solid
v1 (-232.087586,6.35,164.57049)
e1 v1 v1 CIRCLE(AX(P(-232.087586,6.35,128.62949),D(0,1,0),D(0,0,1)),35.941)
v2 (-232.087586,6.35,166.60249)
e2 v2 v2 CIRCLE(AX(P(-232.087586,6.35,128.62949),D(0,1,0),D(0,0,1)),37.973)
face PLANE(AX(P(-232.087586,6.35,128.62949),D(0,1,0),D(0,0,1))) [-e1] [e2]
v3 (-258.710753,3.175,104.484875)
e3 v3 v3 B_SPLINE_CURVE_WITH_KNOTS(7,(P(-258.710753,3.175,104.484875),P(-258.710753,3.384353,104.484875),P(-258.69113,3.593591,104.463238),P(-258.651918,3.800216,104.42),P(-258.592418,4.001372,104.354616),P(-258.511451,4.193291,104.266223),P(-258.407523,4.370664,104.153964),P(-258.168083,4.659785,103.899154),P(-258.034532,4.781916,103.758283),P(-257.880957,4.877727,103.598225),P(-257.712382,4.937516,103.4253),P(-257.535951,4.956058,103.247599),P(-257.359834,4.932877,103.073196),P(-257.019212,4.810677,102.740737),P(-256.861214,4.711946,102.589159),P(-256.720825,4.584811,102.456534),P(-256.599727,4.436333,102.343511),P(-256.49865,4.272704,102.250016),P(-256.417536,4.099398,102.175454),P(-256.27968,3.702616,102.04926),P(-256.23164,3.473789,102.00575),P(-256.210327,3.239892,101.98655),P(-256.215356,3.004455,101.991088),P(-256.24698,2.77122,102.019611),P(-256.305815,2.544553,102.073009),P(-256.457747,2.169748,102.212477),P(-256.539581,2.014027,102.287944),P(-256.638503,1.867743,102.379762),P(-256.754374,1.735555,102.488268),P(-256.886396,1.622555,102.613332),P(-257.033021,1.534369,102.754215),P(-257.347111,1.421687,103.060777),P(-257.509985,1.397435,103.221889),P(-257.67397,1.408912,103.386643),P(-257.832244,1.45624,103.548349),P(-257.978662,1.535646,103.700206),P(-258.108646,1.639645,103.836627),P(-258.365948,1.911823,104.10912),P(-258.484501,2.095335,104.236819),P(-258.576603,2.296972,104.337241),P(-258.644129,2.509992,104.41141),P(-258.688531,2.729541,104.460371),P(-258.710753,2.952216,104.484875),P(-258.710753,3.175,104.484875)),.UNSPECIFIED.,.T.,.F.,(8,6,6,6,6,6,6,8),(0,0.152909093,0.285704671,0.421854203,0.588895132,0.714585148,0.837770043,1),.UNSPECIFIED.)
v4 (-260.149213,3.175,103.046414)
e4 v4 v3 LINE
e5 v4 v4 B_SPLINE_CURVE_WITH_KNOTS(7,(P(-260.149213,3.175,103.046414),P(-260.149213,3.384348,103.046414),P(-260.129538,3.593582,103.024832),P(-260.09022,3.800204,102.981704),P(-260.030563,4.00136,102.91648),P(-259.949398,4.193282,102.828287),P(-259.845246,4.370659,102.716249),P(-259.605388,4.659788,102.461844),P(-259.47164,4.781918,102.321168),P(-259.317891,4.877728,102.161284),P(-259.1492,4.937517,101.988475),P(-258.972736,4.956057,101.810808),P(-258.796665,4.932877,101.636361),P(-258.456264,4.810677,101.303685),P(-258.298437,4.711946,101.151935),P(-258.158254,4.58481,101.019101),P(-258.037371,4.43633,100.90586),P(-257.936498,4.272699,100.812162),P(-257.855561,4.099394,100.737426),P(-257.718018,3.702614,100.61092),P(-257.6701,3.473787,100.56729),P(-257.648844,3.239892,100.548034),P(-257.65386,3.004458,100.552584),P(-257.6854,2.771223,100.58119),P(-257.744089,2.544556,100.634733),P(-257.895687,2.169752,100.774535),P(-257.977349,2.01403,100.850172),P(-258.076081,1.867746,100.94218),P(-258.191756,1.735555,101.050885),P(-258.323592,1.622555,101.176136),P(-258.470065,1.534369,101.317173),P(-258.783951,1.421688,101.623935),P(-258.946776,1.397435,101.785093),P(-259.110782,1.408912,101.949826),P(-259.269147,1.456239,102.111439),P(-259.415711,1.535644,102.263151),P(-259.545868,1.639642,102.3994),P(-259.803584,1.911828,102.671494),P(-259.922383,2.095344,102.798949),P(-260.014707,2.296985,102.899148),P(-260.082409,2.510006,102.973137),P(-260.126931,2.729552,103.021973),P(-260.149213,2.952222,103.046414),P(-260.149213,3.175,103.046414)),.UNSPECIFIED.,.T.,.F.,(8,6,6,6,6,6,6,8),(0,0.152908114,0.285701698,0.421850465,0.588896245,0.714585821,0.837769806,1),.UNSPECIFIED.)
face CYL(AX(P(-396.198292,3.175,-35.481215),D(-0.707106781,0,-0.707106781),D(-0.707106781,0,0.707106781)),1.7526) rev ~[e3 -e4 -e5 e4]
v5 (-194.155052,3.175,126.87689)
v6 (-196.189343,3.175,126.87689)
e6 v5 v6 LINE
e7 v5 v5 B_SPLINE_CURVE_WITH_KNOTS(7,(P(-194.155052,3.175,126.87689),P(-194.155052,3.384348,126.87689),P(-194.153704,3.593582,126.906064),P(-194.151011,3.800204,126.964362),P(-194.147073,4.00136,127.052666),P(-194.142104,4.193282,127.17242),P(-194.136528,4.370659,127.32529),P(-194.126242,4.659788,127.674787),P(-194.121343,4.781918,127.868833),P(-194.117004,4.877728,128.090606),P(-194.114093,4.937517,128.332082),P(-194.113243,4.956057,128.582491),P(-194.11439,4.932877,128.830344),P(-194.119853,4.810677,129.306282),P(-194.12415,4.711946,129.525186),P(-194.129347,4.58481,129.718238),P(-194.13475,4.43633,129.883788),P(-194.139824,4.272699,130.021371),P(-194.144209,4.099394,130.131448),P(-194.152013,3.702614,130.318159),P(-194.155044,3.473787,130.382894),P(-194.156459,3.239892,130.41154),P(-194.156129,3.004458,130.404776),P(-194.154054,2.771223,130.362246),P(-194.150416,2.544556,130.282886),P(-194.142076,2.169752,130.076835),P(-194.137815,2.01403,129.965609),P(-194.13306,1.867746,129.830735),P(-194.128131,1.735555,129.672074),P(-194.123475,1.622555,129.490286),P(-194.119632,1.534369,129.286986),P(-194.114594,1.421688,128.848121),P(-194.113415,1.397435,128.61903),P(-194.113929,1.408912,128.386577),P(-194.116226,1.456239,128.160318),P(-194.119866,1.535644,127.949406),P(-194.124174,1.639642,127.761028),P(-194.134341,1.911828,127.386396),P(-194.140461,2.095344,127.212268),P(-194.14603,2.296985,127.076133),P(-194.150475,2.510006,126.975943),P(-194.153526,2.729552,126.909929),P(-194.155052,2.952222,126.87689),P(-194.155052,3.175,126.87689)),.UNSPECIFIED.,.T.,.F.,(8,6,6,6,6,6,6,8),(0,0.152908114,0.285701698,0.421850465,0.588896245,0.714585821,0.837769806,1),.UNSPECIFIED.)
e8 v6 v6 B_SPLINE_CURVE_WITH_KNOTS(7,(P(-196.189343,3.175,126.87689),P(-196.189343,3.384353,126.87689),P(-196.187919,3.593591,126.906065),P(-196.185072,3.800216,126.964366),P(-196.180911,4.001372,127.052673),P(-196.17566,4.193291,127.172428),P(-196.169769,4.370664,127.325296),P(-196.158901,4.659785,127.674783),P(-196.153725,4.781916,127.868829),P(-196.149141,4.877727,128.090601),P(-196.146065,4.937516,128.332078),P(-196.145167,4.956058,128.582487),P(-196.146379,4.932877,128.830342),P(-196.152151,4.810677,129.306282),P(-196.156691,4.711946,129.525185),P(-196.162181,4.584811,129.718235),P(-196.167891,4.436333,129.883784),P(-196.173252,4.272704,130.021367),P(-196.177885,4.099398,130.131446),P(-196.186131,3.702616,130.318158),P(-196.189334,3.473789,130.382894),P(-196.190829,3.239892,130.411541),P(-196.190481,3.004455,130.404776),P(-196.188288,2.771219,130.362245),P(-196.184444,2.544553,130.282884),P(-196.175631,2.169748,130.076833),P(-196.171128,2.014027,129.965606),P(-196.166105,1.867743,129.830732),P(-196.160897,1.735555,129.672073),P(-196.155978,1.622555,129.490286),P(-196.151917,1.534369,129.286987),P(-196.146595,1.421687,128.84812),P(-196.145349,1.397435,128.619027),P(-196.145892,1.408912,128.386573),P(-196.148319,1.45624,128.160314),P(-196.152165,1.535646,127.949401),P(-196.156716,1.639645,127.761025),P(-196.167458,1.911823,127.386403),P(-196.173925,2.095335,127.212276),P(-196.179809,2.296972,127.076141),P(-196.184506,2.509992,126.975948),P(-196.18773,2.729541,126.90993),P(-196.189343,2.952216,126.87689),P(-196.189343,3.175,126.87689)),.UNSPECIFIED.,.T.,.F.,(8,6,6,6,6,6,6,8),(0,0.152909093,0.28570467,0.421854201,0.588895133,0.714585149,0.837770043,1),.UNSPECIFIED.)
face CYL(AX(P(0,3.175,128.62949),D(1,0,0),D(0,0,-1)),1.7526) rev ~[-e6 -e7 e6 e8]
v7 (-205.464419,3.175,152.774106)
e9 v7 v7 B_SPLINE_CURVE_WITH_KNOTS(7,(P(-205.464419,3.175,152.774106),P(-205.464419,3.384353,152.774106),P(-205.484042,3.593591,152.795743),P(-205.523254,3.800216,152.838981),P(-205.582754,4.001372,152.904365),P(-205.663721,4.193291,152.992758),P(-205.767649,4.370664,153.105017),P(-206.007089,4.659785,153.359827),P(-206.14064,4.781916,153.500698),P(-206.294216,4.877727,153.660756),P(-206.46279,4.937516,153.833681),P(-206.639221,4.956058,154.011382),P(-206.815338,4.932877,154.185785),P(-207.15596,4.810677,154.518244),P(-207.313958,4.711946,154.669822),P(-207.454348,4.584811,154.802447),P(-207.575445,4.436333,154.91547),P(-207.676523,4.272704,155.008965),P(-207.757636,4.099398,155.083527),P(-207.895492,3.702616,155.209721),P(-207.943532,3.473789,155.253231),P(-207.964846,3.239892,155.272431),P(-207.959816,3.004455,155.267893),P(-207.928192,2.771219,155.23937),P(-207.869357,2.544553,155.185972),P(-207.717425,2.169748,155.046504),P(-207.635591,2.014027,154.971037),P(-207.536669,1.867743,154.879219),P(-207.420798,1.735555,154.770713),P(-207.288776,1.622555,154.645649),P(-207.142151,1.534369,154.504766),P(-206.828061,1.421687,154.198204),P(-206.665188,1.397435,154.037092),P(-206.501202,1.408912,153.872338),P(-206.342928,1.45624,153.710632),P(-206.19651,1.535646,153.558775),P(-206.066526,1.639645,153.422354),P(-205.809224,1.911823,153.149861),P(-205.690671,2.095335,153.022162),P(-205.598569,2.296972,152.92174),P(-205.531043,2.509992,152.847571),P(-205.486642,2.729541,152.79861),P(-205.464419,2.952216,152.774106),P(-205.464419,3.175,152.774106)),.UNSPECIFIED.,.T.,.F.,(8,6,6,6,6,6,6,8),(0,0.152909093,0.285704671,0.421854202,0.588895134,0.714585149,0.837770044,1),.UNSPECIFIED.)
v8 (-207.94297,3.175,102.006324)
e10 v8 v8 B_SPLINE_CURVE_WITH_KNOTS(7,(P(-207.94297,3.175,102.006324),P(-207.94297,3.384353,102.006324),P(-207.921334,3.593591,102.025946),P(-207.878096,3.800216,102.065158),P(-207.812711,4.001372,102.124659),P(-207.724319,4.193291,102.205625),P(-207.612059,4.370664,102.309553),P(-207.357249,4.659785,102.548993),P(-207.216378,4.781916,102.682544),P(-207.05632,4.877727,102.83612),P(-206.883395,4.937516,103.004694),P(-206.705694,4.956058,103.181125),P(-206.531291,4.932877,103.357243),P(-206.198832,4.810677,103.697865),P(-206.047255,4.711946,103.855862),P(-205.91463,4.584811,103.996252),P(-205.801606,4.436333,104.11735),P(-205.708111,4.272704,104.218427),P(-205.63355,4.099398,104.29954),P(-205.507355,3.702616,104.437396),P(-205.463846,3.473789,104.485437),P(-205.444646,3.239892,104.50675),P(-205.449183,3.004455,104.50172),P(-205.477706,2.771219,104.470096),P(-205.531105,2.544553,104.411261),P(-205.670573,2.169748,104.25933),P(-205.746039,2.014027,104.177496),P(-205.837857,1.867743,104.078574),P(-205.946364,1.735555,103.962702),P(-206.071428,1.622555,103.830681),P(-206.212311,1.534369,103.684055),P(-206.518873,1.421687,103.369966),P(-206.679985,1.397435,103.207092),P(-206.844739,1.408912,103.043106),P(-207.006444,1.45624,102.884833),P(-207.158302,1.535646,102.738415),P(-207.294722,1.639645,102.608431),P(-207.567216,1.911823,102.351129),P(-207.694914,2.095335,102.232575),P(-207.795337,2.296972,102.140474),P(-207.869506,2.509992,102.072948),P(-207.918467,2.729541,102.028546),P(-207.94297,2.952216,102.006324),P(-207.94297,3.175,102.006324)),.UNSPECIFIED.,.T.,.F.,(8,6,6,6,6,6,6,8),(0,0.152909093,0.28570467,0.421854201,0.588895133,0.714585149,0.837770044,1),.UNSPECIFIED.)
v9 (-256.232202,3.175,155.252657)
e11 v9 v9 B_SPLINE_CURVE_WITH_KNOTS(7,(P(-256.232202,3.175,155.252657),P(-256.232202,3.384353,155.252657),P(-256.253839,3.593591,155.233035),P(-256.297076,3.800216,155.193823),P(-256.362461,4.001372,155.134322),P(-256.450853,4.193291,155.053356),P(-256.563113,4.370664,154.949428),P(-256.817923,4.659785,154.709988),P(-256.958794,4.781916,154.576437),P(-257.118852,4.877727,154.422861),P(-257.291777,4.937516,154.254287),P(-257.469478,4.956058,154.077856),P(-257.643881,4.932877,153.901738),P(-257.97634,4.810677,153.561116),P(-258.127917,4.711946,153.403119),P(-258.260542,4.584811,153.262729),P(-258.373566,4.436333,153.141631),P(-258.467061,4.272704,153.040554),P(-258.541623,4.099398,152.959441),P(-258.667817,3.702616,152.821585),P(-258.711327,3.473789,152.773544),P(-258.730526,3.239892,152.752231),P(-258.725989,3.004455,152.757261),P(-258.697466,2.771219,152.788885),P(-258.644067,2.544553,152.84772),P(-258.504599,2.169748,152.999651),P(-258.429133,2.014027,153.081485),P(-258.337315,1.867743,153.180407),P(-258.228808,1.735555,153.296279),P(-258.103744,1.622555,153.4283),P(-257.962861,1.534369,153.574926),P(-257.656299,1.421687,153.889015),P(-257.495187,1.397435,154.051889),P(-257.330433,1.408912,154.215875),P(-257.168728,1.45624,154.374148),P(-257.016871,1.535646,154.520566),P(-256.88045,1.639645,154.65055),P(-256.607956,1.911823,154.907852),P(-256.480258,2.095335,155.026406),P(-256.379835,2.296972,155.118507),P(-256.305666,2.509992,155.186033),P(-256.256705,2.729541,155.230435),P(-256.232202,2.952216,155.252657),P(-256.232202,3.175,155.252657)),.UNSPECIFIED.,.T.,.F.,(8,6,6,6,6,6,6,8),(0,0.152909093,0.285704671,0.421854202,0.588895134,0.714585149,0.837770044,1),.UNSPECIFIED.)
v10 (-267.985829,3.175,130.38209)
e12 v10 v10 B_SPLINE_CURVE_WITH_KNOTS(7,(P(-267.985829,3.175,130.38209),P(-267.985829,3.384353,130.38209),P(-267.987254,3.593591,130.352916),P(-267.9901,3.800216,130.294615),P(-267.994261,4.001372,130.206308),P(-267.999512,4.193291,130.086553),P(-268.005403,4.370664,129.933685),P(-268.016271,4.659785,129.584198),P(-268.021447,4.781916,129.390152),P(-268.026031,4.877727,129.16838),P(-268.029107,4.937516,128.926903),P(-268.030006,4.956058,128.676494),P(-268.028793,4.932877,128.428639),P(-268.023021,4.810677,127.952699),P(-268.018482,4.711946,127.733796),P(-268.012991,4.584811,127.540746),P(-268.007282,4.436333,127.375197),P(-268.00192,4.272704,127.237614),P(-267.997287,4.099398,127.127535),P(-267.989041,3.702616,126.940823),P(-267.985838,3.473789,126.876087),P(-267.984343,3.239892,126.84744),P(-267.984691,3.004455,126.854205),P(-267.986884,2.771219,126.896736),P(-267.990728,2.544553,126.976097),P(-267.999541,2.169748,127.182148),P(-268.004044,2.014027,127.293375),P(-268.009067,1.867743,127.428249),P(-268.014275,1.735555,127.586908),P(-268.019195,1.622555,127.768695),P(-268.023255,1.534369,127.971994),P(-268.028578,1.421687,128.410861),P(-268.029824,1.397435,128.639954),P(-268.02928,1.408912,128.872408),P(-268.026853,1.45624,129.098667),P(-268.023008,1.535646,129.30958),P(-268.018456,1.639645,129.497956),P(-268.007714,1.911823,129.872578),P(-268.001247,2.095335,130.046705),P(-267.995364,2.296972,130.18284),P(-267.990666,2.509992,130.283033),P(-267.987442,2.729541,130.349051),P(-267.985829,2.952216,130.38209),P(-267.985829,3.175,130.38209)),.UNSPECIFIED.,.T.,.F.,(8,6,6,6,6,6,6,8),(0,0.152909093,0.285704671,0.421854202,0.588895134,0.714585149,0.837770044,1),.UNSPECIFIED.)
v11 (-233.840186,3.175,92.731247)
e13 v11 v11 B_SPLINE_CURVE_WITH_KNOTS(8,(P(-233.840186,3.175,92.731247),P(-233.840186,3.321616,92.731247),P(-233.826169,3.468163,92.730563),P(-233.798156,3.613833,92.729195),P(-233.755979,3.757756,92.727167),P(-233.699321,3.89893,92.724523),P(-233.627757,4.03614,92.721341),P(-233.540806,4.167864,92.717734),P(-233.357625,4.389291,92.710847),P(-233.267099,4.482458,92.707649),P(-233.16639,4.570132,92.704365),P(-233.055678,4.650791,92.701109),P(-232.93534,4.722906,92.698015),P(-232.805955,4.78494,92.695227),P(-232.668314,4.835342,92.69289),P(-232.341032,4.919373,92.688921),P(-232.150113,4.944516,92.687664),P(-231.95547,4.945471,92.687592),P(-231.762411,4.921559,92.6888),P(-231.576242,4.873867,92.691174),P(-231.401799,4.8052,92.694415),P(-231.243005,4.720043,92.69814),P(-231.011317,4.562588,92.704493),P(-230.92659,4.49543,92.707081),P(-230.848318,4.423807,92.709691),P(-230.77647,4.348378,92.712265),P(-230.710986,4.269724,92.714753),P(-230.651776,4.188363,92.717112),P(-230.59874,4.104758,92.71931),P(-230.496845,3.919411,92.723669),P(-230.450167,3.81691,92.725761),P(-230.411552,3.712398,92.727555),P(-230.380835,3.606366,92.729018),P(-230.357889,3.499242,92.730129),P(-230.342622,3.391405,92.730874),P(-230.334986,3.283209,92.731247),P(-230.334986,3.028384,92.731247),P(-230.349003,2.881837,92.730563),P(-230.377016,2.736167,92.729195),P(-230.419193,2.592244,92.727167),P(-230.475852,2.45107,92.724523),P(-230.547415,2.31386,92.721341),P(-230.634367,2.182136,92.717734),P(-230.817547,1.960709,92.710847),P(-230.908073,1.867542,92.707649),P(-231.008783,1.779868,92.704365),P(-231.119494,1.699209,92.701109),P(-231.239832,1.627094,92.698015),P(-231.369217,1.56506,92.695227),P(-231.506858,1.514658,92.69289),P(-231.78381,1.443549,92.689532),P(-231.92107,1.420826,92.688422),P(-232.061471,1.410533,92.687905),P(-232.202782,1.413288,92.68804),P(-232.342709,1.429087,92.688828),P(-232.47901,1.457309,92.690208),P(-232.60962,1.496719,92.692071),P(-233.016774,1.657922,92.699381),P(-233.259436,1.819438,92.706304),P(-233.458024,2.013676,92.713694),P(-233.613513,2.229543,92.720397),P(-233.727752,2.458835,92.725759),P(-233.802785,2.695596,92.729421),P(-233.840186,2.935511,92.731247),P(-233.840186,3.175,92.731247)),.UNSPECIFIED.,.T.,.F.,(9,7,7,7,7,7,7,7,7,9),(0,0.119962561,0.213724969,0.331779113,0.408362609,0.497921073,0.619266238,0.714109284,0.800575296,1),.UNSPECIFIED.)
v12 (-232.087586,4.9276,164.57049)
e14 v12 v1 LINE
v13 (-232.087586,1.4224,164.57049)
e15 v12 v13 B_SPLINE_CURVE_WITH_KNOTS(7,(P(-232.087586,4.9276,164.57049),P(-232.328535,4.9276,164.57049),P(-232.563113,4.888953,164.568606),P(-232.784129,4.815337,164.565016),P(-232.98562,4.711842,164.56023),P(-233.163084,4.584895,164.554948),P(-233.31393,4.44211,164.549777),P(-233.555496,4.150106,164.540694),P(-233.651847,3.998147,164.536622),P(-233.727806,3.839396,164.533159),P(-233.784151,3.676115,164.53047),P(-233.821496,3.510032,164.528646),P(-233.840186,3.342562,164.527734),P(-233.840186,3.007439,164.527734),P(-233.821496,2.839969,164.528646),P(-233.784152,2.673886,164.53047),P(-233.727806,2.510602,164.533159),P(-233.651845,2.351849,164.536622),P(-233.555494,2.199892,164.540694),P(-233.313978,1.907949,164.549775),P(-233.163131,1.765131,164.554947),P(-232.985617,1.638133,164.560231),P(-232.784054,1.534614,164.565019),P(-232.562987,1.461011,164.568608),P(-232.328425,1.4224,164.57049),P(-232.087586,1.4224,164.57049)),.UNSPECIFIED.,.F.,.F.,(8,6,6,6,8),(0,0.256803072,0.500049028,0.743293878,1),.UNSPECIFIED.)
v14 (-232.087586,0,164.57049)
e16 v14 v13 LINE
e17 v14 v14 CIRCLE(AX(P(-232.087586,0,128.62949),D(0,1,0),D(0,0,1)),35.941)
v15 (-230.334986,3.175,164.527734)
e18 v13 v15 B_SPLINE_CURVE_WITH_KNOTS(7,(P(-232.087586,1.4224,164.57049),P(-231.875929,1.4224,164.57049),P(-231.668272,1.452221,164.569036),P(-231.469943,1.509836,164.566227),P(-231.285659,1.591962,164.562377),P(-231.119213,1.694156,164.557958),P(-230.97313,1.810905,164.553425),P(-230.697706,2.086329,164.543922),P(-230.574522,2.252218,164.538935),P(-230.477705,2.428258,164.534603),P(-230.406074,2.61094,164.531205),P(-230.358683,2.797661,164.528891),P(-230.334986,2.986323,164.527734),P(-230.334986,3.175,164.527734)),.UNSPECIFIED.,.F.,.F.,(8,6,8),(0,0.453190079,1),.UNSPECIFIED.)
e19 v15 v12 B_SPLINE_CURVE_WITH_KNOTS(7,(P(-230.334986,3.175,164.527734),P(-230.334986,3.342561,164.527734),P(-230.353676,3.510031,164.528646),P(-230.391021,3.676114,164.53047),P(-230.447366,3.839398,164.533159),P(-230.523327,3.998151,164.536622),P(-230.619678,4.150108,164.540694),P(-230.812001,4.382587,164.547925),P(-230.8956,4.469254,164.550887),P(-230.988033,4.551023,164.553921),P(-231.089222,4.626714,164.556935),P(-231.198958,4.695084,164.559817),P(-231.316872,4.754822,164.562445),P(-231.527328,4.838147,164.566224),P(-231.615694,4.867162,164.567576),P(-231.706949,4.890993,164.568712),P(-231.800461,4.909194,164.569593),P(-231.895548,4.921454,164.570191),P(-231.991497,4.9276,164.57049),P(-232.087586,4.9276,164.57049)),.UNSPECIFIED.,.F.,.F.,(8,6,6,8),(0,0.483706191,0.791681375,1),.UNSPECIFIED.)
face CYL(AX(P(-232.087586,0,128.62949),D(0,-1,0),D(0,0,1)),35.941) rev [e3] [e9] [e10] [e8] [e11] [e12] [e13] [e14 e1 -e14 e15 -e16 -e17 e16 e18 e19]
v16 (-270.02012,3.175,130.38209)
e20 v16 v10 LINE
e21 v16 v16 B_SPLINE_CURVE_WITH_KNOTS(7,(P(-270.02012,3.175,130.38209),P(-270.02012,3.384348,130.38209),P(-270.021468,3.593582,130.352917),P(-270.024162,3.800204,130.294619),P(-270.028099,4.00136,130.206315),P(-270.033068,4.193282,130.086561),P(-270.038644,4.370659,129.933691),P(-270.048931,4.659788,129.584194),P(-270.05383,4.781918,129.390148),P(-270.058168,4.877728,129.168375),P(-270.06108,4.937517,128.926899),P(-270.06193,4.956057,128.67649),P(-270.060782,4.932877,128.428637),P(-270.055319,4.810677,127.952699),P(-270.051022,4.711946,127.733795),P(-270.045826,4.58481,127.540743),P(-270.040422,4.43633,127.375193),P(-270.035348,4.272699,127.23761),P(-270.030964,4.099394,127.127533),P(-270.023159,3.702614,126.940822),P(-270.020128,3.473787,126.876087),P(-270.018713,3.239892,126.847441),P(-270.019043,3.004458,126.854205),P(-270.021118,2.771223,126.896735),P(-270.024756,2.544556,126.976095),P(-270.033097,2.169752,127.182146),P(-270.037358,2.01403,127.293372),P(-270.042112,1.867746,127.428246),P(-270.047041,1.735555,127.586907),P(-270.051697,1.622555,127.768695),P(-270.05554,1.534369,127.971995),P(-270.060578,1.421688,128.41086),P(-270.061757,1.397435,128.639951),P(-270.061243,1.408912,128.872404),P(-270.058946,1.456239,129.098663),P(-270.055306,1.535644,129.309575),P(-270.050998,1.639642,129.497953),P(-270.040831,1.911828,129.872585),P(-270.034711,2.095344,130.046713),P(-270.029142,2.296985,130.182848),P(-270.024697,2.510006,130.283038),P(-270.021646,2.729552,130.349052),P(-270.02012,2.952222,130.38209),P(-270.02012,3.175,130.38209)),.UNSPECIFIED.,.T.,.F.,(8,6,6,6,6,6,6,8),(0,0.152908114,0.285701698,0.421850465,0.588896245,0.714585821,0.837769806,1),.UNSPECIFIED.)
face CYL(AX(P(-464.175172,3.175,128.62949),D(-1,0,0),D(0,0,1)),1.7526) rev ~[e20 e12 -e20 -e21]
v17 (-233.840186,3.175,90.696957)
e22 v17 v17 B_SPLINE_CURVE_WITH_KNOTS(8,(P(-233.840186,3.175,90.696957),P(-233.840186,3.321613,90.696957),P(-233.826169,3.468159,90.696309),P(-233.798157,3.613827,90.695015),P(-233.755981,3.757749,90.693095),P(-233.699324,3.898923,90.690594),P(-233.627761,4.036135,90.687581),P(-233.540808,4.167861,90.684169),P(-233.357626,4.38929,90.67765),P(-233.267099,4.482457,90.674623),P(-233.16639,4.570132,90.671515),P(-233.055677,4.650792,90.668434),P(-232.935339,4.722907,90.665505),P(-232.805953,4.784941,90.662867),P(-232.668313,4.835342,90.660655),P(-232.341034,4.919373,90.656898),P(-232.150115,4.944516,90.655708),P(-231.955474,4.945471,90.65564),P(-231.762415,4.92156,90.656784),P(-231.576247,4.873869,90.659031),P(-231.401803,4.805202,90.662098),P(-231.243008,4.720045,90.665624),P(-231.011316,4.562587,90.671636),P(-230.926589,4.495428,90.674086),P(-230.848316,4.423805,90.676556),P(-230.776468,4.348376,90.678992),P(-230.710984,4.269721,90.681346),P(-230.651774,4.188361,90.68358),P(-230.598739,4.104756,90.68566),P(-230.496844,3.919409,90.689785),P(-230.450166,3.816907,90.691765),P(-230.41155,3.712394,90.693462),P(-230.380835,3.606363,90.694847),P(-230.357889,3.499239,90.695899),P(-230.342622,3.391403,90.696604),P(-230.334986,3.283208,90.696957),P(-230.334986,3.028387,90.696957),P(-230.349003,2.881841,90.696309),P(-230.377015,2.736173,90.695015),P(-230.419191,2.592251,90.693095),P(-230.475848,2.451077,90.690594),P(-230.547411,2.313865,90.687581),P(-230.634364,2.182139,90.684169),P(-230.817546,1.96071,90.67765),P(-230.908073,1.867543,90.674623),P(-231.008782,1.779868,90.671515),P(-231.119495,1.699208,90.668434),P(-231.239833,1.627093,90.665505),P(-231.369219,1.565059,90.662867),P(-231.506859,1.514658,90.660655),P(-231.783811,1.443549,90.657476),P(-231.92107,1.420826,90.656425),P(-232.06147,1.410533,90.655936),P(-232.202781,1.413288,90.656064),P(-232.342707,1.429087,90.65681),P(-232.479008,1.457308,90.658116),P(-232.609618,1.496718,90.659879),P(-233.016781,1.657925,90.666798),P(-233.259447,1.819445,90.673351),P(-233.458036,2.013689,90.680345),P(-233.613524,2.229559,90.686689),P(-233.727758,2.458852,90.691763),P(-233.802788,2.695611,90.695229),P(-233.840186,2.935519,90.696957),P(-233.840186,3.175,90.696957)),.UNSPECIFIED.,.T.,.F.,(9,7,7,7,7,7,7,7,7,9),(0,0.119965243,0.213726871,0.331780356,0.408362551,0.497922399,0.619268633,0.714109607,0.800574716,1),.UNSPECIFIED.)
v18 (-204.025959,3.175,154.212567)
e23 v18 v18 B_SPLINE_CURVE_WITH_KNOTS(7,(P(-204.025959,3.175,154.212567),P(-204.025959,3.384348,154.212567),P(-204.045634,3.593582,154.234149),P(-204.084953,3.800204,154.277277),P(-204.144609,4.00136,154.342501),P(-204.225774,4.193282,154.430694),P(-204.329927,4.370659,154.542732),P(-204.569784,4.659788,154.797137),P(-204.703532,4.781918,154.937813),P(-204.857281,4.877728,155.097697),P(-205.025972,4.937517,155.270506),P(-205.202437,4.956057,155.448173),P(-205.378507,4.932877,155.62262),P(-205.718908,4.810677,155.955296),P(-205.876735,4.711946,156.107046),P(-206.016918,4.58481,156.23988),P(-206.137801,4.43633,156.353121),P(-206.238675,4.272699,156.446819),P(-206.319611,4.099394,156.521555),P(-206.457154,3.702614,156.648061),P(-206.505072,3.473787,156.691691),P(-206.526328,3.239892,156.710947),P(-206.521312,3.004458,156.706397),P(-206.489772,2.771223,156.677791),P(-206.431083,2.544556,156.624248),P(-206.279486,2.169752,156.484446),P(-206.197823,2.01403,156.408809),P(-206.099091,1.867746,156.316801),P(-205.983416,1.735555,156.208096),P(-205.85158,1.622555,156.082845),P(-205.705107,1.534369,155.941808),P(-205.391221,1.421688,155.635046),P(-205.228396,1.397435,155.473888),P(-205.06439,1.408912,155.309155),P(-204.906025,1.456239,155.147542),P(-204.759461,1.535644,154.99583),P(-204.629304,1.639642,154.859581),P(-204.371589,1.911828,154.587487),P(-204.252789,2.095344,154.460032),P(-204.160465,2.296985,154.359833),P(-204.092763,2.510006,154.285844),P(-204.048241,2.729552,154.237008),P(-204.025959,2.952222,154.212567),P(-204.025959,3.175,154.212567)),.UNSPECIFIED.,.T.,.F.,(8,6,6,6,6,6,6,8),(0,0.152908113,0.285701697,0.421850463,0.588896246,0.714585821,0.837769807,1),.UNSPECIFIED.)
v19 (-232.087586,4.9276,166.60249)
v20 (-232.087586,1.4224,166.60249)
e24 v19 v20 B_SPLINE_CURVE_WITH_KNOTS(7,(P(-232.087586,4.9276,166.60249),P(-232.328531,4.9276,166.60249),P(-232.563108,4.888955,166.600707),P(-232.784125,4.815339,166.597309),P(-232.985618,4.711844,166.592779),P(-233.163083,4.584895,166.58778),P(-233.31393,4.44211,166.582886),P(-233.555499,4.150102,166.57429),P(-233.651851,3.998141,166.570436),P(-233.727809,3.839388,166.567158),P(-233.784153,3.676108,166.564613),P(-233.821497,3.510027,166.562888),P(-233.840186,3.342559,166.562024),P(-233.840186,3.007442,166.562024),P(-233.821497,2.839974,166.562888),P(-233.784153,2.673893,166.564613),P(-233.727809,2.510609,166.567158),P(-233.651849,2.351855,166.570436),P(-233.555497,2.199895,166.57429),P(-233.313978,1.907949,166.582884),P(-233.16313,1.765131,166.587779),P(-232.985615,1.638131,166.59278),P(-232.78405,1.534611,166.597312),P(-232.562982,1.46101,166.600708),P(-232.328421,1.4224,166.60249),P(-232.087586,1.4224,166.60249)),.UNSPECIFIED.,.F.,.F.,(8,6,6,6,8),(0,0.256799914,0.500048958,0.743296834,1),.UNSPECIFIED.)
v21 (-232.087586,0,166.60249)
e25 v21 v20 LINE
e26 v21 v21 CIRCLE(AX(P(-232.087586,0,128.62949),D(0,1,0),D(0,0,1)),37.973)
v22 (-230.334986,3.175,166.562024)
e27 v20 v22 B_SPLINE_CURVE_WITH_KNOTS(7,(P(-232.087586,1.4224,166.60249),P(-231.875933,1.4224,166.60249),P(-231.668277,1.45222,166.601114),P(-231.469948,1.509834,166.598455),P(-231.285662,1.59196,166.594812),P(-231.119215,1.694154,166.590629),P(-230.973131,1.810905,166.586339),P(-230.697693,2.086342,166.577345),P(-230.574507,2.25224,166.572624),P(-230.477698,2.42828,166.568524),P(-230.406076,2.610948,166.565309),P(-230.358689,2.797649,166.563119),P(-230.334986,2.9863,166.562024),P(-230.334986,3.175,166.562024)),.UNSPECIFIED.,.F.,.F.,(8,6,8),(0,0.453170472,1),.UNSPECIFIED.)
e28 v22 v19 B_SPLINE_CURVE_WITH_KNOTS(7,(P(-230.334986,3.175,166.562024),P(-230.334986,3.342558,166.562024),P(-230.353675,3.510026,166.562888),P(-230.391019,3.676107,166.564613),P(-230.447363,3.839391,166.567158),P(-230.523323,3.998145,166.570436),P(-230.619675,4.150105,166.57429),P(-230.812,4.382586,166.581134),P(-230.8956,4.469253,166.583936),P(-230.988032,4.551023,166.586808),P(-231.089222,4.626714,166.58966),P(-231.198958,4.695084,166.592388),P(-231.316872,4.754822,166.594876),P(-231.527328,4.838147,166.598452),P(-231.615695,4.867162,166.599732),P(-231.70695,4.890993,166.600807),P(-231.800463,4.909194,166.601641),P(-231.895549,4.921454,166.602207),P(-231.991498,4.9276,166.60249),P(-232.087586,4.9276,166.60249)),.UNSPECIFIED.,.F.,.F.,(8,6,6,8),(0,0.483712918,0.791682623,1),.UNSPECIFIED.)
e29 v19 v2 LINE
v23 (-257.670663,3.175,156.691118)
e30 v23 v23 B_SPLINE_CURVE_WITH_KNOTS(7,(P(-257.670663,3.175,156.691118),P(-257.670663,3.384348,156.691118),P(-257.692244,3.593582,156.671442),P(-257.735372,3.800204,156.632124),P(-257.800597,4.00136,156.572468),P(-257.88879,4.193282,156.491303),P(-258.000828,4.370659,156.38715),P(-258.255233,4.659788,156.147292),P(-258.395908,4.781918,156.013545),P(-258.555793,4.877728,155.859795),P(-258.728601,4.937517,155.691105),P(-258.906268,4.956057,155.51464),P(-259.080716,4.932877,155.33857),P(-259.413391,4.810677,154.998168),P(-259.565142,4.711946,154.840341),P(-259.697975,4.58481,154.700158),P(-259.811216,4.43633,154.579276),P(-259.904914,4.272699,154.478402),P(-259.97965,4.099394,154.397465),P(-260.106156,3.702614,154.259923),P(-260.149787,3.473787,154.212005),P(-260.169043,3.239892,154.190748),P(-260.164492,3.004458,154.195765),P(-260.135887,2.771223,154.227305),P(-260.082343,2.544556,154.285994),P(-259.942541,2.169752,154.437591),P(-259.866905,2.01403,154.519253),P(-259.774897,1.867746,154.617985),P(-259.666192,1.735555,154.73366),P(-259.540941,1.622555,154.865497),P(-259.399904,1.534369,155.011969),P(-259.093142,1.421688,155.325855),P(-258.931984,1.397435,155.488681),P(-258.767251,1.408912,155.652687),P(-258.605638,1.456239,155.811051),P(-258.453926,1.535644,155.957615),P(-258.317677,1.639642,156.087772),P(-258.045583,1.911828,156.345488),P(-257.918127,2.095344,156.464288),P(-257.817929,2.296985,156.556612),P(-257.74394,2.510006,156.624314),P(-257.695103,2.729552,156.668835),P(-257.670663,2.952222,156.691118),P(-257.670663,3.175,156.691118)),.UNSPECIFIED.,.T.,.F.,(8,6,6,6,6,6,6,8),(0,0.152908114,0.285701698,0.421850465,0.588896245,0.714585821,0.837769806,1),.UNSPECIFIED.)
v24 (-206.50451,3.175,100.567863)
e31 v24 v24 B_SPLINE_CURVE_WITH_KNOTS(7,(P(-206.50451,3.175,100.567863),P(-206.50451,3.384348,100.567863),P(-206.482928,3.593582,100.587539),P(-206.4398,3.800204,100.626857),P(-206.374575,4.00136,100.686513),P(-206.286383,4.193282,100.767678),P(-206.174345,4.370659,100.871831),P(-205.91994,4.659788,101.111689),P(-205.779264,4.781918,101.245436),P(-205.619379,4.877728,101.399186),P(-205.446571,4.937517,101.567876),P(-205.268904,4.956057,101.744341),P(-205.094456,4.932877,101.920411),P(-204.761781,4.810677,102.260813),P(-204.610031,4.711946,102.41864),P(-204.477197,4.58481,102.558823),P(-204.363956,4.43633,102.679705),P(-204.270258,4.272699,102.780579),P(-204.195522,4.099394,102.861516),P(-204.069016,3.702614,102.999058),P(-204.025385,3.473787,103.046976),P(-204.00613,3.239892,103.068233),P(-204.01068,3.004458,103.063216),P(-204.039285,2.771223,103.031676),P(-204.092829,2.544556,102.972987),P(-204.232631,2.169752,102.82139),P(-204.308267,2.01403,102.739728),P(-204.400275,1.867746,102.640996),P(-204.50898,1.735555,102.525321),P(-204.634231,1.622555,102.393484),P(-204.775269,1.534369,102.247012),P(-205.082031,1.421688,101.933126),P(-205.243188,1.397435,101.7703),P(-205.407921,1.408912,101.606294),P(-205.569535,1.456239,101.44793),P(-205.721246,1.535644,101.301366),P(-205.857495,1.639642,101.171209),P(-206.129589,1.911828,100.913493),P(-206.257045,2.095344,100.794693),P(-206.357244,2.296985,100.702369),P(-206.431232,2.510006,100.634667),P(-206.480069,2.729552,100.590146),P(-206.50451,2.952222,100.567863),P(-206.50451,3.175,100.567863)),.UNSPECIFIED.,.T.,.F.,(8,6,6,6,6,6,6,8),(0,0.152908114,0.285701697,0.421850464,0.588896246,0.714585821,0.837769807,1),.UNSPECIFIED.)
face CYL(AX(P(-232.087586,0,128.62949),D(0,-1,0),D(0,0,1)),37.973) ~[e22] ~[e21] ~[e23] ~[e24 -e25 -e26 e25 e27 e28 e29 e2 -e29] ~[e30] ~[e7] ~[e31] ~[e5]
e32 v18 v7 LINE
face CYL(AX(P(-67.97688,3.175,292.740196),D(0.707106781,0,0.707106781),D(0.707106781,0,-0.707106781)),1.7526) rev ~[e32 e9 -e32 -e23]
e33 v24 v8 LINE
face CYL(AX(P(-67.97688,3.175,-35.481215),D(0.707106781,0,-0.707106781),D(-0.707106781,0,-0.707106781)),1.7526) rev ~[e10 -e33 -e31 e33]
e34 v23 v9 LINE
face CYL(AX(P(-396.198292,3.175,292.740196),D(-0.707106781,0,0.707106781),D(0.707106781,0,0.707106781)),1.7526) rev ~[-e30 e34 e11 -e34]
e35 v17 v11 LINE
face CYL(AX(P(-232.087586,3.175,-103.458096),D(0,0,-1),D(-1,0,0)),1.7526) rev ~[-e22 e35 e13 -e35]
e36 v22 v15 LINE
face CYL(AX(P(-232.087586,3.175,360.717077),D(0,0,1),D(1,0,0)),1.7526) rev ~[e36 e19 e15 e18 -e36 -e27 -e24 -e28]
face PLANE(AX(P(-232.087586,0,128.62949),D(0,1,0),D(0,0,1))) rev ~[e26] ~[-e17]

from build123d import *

# Parameters (mm, degrees)
SKETCH2_R           = 37.973
SKETCH2_R_2         = 35.941
BOSS_EXTRUDE1_DEPTH = 6.35
SKETCH3_R           = 1.7526
CUT_EXTRUDE1_DEPTH  = 200.35
CIRPATTERN1_COUNT   = 8


with BuildPart() as part:
    # Sketch2 → Boss-Extrude1 (new body)
    with BuildSketch(Plane(origin=(0, 0, 0), x_dir=(1, 0, 0), z_dir=(0, 1, 0))):
        with Locations(Location((-232.087586101, -128.629490495, 0), (0, 0, 270))):
            Circle(SKETCH2_R)
        with Locations(Location((-232.087586101, -128.629490495, 0), (0, 0, 270))):
            Circle(SKETCH2_R_2, mode=Mode.SUBTRACT)
    extrude(amount=BOSS_EXTRUDE1_DEPTH)

    # Sketch3 → Cut-Extrude1 (cut)
    with BuildSketch(Plane(origin=(0, 0, 0), x_dir=(0, 0, -1), z_dir=(1, 0, 0))):
        with Locations((-128.629490495, 3.175)):
            Circle(SKETCH3_R)
    cut_extrude1 = extrude(amount=-CUT_EXTRUDE1_DEPTH, mode=Mode.SUBTRACT)

    # CirPattern1: Cut-Extrude1 ×8 about axis
    cirpattern1_axis = Axis((-232.087586101, 0, 128.629490495), (0, -1, 0))
    for i in range(1, CIRPATTERN1_COUNT):
        add(cut_extrude1.rotate(cirpattern1_axis, i * 360 / CIRPATTERN1_COUNT), mode=Mode.SUBTRACT)


solid = part.part
